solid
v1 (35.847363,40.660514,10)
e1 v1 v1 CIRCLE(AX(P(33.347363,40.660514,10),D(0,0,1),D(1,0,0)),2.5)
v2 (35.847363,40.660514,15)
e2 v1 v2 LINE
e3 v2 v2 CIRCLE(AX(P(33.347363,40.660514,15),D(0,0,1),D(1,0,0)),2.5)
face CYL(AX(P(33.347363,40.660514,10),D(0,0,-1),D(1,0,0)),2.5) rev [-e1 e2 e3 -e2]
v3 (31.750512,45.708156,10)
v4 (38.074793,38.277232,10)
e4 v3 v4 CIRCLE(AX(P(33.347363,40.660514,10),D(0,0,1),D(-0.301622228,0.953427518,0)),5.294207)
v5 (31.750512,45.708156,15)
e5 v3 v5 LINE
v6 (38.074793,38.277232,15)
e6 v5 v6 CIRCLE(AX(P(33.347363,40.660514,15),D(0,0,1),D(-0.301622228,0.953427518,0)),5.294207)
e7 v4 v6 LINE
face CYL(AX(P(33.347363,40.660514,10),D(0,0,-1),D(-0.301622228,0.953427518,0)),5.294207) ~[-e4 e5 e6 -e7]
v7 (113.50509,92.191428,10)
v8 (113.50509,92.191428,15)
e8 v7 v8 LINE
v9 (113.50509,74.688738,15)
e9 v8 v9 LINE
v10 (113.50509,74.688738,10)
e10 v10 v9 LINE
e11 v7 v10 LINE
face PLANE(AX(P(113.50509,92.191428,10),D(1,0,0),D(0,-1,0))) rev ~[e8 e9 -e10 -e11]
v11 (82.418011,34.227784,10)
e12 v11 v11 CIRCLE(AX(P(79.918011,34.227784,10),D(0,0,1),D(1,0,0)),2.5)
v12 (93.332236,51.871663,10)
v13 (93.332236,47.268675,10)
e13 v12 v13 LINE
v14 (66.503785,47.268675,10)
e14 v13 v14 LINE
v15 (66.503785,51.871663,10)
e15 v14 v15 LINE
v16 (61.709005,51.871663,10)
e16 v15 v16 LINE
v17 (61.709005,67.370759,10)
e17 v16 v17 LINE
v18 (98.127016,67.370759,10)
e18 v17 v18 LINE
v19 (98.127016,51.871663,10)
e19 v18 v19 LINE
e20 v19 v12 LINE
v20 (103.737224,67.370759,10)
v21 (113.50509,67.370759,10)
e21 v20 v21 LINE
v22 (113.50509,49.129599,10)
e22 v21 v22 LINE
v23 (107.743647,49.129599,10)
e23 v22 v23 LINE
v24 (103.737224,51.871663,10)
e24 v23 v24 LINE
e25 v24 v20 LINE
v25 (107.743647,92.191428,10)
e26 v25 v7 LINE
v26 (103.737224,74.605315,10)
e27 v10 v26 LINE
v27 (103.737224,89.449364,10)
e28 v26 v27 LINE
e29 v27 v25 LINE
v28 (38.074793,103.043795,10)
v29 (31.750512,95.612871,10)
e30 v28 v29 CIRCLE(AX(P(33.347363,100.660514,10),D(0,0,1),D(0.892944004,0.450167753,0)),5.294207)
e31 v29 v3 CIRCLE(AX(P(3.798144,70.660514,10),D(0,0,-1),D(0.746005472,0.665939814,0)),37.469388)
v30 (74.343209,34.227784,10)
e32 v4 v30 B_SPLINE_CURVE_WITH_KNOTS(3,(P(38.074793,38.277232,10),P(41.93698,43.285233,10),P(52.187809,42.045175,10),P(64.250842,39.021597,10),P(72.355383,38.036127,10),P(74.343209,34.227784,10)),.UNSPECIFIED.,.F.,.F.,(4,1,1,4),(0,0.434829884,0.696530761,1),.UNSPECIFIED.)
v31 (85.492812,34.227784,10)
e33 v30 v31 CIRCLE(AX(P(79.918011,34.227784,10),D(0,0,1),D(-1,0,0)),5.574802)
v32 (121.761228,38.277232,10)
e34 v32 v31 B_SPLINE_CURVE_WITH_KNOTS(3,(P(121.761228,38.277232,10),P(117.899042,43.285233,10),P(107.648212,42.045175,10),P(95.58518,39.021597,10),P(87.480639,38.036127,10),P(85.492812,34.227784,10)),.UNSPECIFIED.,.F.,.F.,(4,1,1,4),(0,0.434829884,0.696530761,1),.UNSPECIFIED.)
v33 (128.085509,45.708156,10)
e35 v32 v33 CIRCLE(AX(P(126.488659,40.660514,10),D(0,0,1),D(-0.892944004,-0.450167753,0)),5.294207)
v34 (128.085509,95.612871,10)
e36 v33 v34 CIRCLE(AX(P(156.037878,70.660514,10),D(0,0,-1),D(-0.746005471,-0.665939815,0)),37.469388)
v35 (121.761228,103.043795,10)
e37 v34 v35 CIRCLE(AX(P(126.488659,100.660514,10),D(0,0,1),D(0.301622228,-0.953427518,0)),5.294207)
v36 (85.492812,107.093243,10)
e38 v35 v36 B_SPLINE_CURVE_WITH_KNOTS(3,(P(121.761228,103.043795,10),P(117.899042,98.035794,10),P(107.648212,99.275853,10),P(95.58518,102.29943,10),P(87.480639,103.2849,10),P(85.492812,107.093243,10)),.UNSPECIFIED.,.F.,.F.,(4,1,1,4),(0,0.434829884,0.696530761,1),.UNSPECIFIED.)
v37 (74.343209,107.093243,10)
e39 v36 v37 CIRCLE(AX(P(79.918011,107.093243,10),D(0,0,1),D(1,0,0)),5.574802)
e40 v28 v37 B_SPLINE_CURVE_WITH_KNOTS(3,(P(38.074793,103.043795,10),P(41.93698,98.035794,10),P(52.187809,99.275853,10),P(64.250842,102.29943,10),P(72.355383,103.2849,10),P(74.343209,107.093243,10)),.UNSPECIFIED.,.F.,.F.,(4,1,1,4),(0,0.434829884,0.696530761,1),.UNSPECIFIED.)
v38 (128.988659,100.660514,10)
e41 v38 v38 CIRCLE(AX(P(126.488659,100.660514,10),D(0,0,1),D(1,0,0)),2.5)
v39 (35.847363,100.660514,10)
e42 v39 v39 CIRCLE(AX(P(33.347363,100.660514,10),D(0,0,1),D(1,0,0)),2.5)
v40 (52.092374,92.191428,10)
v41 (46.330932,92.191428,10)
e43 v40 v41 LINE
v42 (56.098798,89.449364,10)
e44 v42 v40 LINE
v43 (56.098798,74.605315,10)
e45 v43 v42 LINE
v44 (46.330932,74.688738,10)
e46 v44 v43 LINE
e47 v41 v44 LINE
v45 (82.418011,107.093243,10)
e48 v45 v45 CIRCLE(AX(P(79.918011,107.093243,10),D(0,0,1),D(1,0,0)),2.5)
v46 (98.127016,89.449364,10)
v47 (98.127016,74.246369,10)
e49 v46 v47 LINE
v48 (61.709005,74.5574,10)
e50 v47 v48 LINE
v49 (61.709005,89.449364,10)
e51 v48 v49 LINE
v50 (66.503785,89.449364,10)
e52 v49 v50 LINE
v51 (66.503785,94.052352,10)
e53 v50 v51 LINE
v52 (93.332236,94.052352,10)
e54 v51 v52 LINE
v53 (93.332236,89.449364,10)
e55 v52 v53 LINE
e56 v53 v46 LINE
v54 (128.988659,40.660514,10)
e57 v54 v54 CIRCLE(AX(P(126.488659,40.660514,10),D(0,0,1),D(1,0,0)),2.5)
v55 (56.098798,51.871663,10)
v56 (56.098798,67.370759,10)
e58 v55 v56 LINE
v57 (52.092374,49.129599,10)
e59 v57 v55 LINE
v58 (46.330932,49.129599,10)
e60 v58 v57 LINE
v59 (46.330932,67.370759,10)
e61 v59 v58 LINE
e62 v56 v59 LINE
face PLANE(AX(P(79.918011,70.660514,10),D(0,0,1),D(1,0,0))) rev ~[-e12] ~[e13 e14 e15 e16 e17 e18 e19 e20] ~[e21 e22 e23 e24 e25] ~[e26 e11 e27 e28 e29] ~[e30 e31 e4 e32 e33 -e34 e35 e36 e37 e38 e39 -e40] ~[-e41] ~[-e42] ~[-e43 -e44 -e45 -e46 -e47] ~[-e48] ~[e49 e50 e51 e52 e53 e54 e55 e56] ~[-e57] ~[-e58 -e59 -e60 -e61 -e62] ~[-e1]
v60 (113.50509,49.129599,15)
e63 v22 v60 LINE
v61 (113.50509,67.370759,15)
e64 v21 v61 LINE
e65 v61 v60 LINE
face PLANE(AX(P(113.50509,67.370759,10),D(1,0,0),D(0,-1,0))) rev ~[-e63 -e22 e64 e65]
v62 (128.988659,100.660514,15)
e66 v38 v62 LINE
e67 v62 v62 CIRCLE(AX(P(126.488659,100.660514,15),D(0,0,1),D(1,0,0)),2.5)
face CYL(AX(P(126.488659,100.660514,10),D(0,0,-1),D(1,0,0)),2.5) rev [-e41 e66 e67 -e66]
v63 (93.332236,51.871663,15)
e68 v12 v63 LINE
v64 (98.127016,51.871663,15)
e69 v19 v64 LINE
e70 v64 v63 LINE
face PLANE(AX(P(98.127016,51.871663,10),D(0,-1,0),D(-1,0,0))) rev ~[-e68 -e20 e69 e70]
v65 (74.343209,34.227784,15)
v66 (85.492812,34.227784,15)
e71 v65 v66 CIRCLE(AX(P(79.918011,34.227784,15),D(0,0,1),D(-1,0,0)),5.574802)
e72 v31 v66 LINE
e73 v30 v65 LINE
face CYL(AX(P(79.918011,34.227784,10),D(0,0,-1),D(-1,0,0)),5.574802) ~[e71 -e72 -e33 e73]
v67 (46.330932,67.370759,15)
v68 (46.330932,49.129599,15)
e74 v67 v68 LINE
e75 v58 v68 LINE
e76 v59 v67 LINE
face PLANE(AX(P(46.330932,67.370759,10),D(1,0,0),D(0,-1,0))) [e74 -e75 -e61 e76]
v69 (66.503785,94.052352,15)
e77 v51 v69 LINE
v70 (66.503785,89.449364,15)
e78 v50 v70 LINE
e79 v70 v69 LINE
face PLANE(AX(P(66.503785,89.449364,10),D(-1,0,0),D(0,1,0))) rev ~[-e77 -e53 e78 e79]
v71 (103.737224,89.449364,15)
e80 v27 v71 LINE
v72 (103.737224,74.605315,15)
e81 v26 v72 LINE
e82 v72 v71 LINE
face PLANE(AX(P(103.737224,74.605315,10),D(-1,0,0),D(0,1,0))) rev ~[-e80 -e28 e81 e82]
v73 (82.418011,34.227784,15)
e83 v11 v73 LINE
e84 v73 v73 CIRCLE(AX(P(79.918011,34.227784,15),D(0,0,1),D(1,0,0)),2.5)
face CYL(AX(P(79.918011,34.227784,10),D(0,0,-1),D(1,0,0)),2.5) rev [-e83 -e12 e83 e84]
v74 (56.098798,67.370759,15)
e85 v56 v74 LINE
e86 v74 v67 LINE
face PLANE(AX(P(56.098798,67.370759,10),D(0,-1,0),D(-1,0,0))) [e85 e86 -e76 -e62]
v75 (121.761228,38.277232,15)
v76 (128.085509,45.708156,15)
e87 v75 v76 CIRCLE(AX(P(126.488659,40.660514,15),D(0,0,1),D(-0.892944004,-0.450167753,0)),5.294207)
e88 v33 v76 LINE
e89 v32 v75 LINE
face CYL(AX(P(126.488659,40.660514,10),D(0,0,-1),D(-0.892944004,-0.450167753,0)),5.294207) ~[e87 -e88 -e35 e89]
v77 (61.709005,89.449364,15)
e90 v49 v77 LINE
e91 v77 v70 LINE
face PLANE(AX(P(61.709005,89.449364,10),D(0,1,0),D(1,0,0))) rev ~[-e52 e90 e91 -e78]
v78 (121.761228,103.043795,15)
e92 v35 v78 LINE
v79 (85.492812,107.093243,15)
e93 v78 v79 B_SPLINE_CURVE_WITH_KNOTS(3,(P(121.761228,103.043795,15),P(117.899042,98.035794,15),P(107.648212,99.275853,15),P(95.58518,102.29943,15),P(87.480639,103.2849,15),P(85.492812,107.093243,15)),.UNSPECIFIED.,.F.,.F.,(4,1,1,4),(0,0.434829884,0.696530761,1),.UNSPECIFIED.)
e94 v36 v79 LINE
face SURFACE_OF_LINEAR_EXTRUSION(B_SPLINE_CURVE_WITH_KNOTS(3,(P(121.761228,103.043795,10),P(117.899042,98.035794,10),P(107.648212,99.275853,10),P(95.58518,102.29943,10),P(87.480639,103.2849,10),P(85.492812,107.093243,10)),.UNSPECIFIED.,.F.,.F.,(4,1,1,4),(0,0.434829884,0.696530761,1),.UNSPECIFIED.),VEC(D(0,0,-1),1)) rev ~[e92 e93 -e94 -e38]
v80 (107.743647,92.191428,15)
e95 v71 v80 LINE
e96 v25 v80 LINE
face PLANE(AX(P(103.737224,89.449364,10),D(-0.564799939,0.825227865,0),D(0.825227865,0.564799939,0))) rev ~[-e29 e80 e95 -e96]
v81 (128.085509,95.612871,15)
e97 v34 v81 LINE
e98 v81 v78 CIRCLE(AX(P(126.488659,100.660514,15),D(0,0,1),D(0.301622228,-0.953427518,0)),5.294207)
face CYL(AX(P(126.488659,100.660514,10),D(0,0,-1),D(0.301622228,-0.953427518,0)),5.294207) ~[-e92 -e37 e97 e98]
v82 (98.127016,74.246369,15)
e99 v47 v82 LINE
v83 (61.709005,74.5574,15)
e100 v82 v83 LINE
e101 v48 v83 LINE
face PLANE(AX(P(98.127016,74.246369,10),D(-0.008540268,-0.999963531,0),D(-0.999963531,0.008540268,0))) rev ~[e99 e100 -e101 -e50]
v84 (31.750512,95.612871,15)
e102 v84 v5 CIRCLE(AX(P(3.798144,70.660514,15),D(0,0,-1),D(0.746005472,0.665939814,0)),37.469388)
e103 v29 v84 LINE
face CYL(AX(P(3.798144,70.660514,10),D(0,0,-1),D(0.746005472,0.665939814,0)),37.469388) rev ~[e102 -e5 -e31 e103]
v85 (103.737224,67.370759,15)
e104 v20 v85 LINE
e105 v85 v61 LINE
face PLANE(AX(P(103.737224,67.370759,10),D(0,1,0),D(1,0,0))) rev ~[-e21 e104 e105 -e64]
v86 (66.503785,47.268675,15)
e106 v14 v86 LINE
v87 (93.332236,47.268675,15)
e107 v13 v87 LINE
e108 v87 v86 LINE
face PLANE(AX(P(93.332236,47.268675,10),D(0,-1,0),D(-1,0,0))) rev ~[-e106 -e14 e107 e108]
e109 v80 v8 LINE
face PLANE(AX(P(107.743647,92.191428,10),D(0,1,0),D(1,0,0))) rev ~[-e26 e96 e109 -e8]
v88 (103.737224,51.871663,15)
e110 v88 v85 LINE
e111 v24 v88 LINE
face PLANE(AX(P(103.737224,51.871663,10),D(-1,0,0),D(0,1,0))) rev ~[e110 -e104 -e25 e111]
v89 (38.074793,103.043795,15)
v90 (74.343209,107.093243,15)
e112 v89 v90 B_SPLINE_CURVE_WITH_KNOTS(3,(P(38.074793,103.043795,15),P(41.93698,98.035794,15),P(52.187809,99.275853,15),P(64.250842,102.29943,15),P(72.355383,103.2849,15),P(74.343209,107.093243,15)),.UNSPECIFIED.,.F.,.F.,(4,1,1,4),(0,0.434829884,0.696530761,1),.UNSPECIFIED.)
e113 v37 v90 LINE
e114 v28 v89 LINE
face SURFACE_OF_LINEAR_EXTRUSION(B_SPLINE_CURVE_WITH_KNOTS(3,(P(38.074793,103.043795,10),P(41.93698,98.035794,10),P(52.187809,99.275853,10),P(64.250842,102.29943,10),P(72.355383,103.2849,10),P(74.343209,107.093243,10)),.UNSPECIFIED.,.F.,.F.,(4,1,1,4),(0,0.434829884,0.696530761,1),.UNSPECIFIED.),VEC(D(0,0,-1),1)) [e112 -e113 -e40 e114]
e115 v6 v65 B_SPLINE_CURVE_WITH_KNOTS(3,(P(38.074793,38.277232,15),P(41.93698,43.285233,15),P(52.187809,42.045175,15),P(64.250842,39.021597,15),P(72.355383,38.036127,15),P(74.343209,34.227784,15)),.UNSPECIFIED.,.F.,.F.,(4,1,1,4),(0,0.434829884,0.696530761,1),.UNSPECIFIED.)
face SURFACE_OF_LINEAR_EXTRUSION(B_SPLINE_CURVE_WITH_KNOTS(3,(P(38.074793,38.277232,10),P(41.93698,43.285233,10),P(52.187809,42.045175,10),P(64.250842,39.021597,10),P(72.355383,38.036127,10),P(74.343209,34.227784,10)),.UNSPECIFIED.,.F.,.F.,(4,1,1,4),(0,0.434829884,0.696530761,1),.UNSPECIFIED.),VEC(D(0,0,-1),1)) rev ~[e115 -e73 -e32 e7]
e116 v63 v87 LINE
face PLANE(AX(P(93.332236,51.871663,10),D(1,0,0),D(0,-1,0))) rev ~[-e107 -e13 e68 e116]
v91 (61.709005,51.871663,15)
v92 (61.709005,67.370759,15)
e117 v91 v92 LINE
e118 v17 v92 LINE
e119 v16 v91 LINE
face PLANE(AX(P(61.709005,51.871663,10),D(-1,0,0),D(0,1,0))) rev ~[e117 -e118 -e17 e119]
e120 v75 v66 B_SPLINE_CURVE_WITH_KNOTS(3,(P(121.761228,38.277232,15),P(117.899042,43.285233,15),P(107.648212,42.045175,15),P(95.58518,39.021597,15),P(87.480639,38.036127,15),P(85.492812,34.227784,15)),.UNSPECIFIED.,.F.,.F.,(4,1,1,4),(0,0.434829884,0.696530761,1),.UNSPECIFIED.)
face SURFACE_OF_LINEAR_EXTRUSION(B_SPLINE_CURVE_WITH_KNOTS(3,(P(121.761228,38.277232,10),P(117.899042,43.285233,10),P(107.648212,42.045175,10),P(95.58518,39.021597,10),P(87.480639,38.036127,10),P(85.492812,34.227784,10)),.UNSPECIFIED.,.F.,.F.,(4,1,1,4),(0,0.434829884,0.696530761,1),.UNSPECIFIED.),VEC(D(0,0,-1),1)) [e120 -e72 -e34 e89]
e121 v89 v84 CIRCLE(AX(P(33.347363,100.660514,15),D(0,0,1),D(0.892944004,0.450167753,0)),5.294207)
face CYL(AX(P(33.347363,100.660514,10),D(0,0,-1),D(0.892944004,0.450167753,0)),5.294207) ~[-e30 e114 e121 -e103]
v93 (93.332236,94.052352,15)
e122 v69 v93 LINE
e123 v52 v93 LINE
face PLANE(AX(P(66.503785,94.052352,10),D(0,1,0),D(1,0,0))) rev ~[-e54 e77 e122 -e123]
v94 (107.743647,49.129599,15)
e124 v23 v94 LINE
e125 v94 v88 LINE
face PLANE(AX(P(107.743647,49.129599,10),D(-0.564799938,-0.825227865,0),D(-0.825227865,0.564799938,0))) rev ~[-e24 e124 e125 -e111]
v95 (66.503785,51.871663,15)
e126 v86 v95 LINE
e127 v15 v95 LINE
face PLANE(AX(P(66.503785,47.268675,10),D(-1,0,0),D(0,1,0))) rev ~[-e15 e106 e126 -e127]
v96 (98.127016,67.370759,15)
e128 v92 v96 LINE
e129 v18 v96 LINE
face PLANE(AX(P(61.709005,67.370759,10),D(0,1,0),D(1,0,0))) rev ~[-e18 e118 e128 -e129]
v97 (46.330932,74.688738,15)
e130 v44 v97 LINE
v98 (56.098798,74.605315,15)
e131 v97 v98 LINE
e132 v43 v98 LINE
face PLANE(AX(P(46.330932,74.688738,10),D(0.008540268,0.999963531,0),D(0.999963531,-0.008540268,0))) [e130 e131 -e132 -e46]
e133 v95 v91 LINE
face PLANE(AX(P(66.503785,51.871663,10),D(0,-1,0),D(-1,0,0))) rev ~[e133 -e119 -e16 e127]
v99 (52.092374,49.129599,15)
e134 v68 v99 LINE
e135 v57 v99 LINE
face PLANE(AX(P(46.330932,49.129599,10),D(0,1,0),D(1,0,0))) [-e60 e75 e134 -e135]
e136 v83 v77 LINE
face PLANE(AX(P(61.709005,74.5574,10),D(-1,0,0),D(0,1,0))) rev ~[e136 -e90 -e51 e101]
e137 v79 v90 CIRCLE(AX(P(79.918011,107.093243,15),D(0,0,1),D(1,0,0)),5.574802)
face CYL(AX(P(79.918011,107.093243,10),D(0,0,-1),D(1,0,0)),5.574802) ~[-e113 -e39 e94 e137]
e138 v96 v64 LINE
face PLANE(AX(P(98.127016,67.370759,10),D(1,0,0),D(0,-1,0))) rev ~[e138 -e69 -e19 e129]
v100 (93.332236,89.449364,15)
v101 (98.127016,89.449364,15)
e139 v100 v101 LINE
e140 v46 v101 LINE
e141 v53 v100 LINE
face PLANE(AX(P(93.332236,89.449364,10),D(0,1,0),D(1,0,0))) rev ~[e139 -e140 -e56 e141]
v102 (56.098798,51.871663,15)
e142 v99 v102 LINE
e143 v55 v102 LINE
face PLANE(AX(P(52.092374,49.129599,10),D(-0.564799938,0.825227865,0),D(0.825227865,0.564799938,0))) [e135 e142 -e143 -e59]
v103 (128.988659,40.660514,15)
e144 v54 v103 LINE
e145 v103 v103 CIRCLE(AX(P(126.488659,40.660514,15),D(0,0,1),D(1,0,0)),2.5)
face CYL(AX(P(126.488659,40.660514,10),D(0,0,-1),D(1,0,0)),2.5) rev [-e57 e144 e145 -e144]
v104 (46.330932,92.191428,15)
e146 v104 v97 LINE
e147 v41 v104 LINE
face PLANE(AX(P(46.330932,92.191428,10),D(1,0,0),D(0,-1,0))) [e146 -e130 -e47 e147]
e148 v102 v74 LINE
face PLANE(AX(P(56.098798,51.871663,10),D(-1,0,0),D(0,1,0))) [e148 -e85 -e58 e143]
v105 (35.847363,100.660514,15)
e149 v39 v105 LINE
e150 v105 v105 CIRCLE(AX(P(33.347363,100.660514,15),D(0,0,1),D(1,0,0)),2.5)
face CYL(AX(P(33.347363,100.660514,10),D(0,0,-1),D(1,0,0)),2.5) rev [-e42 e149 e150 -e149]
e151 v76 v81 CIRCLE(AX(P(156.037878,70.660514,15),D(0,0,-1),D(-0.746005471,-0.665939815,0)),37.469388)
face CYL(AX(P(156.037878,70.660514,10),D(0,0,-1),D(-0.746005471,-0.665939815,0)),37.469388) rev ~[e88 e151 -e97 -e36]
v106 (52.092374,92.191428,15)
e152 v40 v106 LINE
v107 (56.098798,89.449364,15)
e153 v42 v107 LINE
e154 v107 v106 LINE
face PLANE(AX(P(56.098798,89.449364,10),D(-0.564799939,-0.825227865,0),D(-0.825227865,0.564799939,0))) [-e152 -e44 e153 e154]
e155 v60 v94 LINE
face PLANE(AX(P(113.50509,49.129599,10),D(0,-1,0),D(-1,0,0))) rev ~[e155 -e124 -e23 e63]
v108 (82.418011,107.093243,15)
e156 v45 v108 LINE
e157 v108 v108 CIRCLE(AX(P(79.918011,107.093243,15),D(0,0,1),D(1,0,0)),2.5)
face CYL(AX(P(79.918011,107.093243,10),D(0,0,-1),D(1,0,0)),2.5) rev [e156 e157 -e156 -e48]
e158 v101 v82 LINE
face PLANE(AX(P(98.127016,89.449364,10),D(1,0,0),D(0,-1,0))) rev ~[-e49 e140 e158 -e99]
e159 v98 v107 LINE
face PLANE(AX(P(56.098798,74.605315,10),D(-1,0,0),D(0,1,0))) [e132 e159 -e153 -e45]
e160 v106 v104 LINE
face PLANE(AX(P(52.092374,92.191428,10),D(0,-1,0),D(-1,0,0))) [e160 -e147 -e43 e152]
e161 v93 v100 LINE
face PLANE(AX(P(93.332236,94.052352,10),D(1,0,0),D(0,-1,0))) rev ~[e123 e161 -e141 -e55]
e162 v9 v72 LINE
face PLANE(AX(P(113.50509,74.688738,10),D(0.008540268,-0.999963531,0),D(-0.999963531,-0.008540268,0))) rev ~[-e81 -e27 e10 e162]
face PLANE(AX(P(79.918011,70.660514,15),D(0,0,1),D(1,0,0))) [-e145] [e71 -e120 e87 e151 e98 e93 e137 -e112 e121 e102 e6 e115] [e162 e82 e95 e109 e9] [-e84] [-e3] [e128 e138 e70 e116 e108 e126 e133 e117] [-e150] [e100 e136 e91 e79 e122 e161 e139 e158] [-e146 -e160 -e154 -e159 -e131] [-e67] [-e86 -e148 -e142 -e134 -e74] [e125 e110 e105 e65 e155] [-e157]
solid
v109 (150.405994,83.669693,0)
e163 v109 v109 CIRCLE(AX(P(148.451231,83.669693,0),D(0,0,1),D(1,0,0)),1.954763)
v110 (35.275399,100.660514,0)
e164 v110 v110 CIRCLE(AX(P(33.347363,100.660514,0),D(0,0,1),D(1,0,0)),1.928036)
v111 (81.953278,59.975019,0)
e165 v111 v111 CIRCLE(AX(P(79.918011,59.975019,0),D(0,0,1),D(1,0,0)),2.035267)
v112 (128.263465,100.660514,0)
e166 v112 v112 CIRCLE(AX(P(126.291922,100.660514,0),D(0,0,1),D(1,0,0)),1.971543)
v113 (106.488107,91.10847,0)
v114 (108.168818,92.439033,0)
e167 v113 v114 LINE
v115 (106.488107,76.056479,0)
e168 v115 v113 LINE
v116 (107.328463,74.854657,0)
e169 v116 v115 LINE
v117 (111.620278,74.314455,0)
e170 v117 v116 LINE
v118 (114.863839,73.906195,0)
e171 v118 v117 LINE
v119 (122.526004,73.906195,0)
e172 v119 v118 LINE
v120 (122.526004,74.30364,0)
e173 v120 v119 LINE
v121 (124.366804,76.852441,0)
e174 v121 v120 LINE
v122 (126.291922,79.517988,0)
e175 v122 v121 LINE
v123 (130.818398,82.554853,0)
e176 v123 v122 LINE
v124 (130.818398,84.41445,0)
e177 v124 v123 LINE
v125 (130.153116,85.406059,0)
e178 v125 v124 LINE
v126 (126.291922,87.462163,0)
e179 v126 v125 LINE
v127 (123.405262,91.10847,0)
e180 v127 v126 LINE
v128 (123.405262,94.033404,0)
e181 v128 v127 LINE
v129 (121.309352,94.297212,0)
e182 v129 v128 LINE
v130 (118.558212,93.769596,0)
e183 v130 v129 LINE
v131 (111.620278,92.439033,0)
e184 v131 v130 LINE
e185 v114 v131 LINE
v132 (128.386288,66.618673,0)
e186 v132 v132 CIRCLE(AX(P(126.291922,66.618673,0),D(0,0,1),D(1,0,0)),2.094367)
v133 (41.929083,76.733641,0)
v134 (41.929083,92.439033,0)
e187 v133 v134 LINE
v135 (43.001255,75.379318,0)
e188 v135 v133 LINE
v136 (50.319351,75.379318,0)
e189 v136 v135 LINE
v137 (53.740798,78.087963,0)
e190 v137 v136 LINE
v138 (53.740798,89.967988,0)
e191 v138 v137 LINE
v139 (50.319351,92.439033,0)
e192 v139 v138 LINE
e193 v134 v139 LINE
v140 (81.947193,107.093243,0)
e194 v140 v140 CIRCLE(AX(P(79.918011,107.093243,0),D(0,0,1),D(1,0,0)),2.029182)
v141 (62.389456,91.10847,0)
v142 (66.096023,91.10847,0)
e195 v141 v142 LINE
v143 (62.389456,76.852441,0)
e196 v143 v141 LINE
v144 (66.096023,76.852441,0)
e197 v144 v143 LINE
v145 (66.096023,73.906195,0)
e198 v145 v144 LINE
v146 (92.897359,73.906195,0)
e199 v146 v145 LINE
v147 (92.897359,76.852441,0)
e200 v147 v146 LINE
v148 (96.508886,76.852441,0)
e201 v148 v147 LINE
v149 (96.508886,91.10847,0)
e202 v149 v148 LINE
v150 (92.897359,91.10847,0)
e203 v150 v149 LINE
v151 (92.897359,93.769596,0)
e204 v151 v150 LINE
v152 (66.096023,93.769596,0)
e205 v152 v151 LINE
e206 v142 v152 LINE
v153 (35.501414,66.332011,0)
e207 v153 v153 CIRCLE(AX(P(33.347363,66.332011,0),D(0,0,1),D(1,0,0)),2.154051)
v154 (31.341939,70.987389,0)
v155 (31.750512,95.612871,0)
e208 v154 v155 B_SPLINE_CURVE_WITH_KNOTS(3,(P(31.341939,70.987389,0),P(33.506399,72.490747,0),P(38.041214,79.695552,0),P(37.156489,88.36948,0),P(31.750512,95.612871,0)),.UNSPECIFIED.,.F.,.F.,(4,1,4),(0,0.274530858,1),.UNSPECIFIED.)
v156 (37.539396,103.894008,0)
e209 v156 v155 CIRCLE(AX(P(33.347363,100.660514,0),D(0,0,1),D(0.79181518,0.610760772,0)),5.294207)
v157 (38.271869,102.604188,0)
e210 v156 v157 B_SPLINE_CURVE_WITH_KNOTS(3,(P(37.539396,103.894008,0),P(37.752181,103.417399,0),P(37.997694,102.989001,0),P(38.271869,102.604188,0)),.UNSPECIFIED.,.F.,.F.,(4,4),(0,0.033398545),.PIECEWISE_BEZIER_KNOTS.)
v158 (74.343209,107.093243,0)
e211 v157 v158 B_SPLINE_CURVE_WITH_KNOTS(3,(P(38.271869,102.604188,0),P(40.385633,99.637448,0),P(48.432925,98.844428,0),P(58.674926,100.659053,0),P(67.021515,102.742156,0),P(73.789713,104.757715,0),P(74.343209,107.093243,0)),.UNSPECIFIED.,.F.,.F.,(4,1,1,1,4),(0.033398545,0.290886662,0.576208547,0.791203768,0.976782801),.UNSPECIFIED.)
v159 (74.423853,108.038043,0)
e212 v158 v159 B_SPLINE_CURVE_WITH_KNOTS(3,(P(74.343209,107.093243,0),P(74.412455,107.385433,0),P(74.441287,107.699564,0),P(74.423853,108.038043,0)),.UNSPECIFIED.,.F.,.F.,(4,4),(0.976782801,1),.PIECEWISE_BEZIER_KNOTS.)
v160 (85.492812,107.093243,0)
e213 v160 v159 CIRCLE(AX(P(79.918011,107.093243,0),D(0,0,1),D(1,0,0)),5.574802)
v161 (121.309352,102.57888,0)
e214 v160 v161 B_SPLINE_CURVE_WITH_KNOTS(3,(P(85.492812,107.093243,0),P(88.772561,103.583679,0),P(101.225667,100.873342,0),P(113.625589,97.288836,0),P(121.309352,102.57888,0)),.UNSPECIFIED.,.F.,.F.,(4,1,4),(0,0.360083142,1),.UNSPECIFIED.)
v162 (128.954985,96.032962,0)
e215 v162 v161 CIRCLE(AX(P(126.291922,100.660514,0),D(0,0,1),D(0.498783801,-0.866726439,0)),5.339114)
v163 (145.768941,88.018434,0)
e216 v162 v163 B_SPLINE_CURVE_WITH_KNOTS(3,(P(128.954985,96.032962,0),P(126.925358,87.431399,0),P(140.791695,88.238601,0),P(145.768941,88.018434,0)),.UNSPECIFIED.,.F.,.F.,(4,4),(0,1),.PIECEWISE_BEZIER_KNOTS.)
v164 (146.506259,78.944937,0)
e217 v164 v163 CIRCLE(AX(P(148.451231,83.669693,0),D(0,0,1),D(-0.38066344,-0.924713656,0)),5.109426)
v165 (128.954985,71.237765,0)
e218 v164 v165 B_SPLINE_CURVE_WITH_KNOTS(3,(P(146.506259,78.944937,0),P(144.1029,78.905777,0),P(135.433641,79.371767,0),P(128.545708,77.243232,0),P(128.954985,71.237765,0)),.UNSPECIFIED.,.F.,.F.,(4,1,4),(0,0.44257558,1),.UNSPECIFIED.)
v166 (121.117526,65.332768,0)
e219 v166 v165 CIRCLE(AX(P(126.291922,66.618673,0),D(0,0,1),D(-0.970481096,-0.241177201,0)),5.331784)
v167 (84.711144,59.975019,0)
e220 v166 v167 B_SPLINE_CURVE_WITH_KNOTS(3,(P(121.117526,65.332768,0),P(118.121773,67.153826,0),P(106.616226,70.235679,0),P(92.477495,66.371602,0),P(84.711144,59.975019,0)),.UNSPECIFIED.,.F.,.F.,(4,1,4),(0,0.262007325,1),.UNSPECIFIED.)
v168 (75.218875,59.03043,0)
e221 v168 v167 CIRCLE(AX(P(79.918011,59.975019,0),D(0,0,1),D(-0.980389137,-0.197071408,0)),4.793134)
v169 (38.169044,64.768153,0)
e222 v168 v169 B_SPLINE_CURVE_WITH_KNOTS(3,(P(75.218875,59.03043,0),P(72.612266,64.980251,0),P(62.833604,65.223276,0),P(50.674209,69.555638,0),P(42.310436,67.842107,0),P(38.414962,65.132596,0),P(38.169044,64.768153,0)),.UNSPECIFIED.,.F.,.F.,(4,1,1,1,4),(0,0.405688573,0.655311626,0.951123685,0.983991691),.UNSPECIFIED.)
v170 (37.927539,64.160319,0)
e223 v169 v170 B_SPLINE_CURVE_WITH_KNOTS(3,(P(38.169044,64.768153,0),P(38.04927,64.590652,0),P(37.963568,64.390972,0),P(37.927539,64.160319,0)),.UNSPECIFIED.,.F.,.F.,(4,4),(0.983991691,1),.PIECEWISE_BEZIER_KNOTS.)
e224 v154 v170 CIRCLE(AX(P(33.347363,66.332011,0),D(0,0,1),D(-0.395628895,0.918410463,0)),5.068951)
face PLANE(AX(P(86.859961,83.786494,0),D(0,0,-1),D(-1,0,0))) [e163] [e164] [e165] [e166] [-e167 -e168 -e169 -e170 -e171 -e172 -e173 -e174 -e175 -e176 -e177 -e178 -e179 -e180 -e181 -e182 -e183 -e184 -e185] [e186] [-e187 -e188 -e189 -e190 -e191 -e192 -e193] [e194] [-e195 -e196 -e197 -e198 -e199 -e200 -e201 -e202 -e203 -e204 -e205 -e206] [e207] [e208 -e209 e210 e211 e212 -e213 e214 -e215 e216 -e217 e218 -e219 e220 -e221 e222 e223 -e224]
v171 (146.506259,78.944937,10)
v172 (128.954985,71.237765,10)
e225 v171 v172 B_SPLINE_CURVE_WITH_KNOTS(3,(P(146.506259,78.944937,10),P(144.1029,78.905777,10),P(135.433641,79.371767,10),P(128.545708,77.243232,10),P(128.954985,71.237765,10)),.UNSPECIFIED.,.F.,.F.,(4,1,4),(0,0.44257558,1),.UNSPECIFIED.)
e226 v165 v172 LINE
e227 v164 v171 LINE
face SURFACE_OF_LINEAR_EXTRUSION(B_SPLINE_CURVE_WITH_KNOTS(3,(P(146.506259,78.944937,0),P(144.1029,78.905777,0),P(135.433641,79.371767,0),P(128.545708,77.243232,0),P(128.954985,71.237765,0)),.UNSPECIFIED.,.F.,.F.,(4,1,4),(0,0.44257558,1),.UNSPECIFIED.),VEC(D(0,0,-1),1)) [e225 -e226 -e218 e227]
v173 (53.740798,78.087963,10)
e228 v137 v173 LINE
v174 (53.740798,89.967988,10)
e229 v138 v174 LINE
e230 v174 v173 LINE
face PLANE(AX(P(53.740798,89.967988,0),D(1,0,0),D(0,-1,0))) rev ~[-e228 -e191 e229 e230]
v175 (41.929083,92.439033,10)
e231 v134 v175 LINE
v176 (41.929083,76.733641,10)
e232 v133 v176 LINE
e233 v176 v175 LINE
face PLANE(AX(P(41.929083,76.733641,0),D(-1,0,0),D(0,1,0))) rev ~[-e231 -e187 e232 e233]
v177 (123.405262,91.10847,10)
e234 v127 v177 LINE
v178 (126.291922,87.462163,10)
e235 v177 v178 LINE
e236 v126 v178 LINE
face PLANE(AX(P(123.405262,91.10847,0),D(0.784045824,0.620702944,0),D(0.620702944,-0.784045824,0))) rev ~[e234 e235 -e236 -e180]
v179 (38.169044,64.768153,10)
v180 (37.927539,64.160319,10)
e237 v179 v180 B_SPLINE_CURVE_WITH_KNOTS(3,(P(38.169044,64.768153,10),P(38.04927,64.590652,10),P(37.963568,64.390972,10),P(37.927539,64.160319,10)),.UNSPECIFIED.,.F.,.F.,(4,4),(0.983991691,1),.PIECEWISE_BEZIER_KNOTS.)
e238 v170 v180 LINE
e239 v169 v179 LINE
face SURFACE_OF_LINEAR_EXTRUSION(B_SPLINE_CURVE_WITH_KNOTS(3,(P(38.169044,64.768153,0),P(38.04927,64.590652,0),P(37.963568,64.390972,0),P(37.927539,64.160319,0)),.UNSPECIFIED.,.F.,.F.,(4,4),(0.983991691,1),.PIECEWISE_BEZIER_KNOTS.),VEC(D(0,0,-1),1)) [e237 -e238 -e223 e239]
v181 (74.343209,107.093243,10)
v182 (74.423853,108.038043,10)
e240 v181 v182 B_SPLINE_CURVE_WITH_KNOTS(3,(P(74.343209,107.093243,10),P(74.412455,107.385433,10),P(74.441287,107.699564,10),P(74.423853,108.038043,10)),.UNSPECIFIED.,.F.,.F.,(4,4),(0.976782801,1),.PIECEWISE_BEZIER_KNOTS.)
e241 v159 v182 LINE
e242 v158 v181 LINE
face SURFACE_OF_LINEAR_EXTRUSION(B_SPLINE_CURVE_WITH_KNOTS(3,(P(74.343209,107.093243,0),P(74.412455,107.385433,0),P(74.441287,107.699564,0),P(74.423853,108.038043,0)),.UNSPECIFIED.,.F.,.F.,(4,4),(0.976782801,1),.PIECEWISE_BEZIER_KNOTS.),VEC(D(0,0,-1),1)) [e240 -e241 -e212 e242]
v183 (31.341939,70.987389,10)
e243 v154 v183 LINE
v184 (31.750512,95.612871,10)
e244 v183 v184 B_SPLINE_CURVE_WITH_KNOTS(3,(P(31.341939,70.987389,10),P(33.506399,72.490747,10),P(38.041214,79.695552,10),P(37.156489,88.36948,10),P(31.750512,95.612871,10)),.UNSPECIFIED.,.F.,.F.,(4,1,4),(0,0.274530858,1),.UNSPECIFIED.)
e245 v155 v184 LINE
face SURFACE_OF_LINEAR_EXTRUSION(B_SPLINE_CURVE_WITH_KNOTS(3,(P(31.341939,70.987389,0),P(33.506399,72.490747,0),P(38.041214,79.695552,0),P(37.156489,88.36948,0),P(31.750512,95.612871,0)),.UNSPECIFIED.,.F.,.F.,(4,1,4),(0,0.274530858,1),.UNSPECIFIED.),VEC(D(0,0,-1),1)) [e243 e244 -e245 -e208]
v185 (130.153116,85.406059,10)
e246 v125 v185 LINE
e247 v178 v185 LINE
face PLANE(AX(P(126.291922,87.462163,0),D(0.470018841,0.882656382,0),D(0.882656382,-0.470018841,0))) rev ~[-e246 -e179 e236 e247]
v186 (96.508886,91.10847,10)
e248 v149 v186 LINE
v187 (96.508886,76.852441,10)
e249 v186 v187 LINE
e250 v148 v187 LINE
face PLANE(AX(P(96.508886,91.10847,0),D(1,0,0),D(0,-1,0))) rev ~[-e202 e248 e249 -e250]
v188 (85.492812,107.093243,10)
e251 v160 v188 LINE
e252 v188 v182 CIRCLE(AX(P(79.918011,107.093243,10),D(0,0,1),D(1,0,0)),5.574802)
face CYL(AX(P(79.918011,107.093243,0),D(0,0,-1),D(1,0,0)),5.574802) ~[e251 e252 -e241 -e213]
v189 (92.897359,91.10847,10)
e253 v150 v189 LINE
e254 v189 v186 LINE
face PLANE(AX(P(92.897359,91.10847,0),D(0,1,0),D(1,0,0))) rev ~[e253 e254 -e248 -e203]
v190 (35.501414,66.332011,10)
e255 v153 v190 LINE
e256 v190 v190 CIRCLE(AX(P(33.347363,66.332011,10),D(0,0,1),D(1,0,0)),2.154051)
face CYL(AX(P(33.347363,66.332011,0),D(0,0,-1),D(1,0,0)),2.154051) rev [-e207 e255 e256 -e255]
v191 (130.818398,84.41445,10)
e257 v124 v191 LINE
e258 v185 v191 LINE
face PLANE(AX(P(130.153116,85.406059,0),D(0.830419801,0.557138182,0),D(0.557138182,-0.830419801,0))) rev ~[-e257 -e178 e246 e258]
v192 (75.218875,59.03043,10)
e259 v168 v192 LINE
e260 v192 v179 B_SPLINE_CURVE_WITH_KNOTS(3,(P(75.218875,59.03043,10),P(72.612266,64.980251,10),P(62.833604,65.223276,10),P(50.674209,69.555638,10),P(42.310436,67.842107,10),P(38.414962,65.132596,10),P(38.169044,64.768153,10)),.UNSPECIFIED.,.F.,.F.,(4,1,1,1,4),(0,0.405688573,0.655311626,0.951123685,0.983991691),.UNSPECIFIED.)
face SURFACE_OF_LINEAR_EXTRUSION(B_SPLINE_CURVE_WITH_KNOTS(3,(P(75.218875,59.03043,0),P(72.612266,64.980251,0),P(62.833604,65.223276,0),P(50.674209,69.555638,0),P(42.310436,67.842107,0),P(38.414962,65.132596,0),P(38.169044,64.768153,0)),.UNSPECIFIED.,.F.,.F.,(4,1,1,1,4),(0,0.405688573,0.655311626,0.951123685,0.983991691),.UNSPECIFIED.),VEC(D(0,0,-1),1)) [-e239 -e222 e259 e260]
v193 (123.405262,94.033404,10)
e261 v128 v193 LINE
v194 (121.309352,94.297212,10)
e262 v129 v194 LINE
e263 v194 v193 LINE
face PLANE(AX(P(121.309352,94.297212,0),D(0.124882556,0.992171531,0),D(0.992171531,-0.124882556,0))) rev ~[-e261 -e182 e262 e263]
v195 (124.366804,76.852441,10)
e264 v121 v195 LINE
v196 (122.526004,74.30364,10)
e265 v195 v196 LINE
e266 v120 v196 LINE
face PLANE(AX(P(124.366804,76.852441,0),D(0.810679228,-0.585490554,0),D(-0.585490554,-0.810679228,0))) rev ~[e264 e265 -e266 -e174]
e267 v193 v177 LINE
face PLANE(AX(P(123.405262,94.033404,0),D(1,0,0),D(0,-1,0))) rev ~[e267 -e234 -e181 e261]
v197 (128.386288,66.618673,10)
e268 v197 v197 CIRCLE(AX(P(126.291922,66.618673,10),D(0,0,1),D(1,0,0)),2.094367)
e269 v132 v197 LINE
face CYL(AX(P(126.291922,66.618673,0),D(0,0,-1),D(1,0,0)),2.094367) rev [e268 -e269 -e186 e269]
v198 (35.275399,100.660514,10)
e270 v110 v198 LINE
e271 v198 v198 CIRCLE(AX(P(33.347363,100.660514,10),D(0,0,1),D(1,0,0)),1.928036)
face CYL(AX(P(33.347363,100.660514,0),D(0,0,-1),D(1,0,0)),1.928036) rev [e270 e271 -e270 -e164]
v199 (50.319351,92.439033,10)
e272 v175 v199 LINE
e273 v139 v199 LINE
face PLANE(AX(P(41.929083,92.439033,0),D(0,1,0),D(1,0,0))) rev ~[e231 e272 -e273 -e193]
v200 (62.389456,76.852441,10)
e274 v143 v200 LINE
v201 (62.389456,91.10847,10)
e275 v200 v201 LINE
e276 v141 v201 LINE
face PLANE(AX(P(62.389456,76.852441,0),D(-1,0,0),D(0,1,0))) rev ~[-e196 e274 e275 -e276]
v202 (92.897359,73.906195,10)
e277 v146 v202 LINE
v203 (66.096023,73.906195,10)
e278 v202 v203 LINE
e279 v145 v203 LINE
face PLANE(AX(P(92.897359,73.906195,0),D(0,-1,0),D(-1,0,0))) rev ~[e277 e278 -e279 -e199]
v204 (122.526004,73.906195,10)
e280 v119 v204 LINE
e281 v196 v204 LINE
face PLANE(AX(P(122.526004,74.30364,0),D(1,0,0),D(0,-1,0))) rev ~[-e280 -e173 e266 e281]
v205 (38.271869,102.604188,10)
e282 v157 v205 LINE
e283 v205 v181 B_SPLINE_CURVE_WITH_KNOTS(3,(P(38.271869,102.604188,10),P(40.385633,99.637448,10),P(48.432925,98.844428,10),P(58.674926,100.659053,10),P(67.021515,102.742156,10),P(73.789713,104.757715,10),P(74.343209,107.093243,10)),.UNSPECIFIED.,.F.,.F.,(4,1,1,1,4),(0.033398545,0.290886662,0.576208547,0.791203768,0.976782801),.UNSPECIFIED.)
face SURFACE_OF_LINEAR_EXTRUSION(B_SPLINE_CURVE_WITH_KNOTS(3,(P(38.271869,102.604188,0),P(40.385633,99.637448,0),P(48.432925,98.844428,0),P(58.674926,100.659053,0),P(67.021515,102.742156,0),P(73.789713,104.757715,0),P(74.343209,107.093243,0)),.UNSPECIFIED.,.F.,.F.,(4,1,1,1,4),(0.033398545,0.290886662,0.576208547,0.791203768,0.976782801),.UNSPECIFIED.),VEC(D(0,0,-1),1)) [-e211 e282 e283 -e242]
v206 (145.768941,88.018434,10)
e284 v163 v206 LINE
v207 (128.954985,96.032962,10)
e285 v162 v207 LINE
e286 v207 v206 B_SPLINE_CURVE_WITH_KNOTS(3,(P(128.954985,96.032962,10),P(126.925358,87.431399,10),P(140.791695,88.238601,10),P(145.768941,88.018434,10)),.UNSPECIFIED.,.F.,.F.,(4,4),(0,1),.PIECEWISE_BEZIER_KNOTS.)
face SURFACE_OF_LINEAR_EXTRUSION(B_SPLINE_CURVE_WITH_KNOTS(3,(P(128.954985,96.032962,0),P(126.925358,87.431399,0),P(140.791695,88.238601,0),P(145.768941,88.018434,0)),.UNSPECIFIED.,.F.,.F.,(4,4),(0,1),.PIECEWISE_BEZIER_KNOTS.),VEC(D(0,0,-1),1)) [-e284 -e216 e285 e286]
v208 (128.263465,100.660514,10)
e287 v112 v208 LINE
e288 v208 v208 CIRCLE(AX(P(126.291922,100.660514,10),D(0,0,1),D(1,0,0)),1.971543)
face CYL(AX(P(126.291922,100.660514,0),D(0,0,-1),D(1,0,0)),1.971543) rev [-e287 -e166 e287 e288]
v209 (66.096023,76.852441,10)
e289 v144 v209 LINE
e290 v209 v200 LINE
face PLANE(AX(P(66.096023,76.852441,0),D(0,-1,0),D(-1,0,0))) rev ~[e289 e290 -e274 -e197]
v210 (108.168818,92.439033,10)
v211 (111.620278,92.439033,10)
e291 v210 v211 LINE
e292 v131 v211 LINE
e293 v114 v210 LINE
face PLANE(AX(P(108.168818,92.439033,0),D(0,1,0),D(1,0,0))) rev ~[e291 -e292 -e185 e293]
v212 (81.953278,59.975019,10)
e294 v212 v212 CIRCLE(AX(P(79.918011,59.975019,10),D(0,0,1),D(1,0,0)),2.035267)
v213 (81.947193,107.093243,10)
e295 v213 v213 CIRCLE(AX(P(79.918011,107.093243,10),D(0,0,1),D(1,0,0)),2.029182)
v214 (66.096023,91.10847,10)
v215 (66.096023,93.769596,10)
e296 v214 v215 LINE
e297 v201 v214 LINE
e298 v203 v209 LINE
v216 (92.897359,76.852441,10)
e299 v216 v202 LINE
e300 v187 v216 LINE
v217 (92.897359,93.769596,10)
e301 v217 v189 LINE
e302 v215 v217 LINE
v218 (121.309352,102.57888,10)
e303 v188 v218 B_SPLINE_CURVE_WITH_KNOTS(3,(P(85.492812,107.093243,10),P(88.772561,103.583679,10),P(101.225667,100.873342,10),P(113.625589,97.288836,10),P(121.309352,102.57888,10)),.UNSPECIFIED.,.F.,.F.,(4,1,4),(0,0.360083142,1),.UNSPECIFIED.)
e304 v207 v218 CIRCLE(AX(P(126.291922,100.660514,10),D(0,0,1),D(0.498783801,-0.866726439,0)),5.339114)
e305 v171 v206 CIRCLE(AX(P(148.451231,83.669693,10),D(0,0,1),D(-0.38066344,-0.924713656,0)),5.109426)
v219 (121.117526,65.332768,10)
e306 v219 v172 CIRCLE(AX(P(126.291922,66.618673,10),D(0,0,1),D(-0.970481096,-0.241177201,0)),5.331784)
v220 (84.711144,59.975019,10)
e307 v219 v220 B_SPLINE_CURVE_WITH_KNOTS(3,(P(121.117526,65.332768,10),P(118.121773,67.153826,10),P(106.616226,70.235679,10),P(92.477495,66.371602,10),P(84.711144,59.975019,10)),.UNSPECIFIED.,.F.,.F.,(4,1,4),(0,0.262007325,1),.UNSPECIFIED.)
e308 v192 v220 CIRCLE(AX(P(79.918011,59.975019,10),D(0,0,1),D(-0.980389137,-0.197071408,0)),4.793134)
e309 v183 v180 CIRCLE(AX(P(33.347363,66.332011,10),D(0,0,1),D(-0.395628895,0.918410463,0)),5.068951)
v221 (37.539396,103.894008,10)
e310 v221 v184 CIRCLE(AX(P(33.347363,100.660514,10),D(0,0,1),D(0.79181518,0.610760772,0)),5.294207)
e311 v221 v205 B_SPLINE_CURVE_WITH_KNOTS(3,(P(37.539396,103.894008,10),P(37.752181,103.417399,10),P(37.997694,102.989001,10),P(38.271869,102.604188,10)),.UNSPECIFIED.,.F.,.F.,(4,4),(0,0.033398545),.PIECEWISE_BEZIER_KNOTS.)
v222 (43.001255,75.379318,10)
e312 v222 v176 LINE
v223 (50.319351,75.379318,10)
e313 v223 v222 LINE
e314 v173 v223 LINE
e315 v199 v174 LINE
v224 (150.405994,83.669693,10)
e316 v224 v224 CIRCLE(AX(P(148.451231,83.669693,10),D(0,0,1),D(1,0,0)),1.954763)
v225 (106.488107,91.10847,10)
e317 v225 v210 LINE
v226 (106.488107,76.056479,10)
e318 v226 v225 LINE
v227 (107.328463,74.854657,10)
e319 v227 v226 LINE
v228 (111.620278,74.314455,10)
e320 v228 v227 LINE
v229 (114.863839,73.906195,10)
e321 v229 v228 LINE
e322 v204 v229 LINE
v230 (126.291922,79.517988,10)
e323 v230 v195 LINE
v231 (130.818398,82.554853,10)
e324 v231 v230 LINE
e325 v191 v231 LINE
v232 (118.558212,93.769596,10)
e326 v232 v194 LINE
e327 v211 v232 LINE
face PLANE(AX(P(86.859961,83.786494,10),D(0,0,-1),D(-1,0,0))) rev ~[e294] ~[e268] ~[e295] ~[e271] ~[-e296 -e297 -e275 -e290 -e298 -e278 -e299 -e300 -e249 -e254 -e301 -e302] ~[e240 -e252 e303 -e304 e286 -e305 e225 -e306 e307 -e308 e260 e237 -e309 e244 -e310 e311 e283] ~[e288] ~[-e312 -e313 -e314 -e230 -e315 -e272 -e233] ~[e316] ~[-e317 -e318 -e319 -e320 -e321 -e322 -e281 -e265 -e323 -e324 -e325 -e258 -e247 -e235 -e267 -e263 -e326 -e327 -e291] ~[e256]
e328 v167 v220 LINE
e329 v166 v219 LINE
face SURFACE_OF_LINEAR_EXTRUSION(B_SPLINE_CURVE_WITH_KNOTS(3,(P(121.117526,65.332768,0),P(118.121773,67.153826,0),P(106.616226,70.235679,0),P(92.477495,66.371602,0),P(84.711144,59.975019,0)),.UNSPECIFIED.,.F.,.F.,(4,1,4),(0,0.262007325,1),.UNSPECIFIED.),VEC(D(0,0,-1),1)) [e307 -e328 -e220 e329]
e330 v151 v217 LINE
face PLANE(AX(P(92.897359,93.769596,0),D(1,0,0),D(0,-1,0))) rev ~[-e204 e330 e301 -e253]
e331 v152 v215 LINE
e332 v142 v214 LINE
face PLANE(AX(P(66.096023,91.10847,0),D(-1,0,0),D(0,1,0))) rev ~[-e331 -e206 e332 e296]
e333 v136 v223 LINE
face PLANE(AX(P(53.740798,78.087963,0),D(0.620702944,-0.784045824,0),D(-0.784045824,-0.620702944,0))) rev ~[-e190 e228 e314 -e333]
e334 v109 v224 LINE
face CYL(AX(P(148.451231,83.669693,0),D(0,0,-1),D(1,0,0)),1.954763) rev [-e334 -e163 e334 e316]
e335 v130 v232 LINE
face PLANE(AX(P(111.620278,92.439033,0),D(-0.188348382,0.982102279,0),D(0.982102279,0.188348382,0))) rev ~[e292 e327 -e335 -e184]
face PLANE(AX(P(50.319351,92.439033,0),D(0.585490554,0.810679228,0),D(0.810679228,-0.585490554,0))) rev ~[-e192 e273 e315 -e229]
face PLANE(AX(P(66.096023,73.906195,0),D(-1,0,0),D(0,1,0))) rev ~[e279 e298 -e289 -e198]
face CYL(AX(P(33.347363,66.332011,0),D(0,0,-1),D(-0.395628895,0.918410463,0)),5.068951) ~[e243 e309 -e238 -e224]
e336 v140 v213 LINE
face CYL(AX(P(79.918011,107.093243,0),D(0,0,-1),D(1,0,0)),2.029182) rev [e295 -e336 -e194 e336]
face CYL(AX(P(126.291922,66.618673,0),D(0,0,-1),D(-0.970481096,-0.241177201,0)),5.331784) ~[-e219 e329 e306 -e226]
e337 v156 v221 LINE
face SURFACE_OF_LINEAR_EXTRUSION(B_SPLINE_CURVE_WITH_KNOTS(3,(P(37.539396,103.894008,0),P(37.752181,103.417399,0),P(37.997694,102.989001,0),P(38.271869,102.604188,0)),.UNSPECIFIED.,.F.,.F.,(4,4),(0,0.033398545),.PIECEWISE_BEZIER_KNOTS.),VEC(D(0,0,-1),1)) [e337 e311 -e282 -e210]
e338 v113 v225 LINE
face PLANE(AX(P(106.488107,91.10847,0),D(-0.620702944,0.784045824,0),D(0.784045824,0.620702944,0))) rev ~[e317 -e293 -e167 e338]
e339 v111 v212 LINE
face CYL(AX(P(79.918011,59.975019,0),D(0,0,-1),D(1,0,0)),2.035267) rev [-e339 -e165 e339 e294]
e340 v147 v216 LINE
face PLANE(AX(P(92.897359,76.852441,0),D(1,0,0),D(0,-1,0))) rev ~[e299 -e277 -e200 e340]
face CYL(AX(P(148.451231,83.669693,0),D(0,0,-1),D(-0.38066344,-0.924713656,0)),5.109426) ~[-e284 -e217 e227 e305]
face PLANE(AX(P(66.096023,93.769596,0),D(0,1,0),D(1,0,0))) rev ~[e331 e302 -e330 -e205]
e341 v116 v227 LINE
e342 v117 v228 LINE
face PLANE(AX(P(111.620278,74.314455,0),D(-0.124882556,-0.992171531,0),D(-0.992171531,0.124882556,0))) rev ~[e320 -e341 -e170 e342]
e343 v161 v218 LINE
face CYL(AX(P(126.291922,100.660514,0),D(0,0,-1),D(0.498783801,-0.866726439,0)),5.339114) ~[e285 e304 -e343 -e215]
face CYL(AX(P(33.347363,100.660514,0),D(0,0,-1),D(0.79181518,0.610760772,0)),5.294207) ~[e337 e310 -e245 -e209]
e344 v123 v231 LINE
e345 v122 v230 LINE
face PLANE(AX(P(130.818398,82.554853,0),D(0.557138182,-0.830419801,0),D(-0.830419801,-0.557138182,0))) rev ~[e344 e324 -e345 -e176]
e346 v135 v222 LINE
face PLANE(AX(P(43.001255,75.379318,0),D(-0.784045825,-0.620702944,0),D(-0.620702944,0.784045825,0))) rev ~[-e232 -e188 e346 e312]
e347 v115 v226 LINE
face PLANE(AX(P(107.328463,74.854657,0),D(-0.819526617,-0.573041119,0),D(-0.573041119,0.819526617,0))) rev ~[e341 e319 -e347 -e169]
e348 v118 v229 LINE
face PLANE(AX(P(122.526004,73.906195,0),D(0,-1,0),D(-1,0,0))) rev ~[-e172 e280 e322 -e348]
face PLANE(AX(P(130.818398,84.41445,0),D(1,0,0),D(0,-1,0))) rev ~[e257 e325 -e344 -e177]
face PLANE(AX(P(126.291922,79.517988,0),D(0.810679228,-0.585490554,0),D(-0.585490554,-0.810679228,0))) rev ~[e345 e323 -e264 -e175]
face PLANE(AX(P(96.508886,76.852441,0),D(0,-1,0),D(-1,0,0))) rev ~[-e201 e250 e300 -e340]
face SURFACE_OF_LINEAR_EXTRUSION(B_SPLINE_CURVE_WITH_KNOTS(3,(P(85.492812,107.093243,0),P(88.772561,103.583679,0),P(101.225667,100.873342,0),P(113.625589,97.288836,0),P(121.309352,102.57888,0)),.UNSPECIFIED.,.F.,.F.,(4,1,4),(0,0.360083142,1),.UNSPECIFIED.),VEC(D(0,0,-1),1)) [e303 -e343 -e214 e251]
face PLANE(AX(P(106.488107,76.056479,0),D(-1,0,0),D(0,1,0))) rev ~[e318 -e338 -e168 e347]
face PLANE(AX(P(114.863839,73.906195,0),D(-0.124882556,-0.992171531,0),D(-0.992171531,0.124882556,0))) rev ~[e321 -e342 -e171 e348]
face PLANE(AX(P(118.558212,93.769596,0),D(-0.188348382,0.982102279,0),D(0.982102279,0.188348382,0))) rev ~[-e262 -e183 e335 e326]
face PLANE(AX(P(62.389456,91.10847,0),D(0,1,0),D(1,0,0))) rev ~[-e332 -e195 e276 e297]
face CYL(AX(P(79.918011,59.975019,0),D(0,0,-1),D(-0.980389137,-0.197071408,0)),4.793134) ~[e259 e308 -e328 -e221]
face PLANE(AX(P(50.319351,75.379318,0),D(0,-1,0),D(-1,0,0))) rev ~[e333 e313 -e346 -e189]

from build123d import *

# Parameters (mm, degrees)
SKETCH1_R           = 4.308101429
SKETCH1_R_2         = 4.070534956
SKETCH1_R_3         = 4.188733122
SKETCH1_R_4         = 3.909525581
SKETCH1_R_5         = 3.856072912
SKETCH1_R_6         = 4.058364248
SKETCH1_R_7         = 3.943086
BOSS_EXTRUDE1_DEPTH = 20
SCALE1_SCALE        = 0.5
SKETCH3_R           = 2.5
BOSS_EXTRUDE2_DEPTH = 5


with BuildPart() as part:
    # Sketch1 → Boss-Extrude1 (new body)
    with BuildSketch(Plane.XY):
        with BuildLine():
            add(Edge.make_bspline(
                [(76.543737018, 205.208376265), (80.771266636, 199.274895566), (96.865850274, 197.688855126), (117.349852584, 201.318105517), (134.043030338, 205.484311396), (147.579425269, 209.515429562), (148.686418237, 214.186485586)],
                knots=[0.033398545, 0.033398545, 0.033398545, 0.033398545, 0.290886662, 0.576208547, 0.791203768, 0.976782801, 0.976782801, 0.976782801, 0.976782801], degree=3))
            add(Edge.make_bspline(
                [(75.078792443, 207.788015047), (75.504362003, 206.834798383), (75.995388063, 205.978002556), (76.543737018, 205.208376265)],
                knots=[0, 0, 0, 0, 0.033398545, 0.033398545, 0.033398545, 0.033398545], degree=3))
            ThreePointArc((75.078792443, 207.788015047), (58.016465577, 207.387518143), (63.501024585, 191.225741993))
            add(Edge.make_bspline(
                [(62.683878743, 141.974777384), (67.012798773, 144.981493657), (76.082428486, 159.391104607), (74.312978576, 176.738960763), (63.501024585, 191.225741993)],
                knots=[0, 0, 0, 0, 0.274530858, 1, 1, 1, 1], degree=3))
            ThreePointArc((62.683878743, 141.974777384), (59.39827219, 125.625640603), (75.855078431, 128.32063823))
            add(Edge.make_bspline(
                [(76.338088045, 129.536305853), (76.098540347, 129.181303146), (75.927135179, 128.781944867), (75.855078431, 128.32063823)],
                knots=[0.983991691, 0.983991691, 0.983991691, 0.983991691, 1, 1, 1, 1], degree=3))
            add(Edge.make_bspline(
                [(150.437749559, 118.060859695), (145.224531207, 129.960502912), (125.667208177, 130.446552796), (101.34841848, 139.111275477), (84.620872045, 135.684213171), (76.829923596, 130.265191805), (76.338088045, 129.536305853)],
                knots=[0, 0, 0, 0, 0.405688573, 0.655311626, 0.951123685, 0.983991691, 0.983991691, 0.983991691, 0.983991691], degree=3))
            ThreePointArc((150.437749559, 118.060859695), (160.785276573, 110.41088633), (169.422288635, 119.950038831))
            add(Edge.make_bspline(
                [(242.2350523, 130.665535521), (236.243546919, 134.307651451), (213.232451782, 140.471357972), (184.954990641, 132.743203556), (169.422288635, 119.950038831)],
                knots=[0, 0, 0, 0, 0.262007325, 1, 1, 1, 1], degree=3))
            ThreePointArc((242.2350523, 130.665535521), (259.000679516, 124.720543619), (257.909970741, 142.475529933))
            add(Edge.make_bspline(
                [(293.012518869, 157.889873478), (288.205800462, 157.811553926), (270.867281219, 158.743534183), (257.091416568, 154.486464669), (257.909970741, 142.475529933)],
                knots=[0, 0, 0, 0, 0.44257558, 1, 1, 1, 1], degree=3))
            ThreePointArc((293.012518869, 157.889873478), (307.087741631, 168.167048524), (291.537881464, 176.036868822))
            add(Edge.make_bspline(
                [(257.909970741, 192.06592491), (253.850716783, 174.862797409), (281.583389113, 176.477202162), (291.537881464, 176.036868822)],
                knots=[0, 0, 0, 0, 1, 1, 1, 1], degree=3))
            ThreePointArc((257.909970741, 192.06592491), (259.528564649, 209.432463461), (242.618703085, 205.157760035))
            add(Edge.make_bspline(
                [(170.98562499, 214.186485586), (177.545121184, 207.167357912), (202.451333932, 201.746684198), (227.251177201, 194.577672651), (242.618703085, 205.157760035)],
                knots=[0, 0, 0, 0, 0.360083142, 1, 1, 1, 1], degree=3))
            ThreePointArc((170.98562499, 214.186485586), (160.784257019, 225.295693706), (148.847706554, 216.076085442))
            add(Edge.make_bspline(
                [(148.686418237, 214.186485586), (148.824910586, 214.770866462), (148.882574653, 215.399127062), (148.847706554, 216.076085442)],
                knots=[0.976782801, 0.976782801, 0.976782801, 0.976782801, 1, 1, 1, 1], degree=3))
        make_face()
        with Locations((66.694725579, 132.66402241)):
            Circle(SKETCH1_R, mode=Mode.SUBTRACT)
        with Locations((159.836021613, 119.950038831)):
            Circle(SKETCH1_R_2, mode=Mode.SUBTRACT)
        Polygon((83.858166214, 184.878066453), (86.002510663, 184.878066453), (100.638701035, 184.878066453), (107.481595235, 179.935976198), (107.481595235, 156.175926893), (100.638701035, 150.758635651), (86.002510663, 150.758635651), (83.858166214, 153.467281272), (83.858166214, 157.72182523), (83.858166214, 179.935976198), (83.858166214, 182.407021325), align=None, mode=Mode.SUBTRACT)
        Polygon((132.192046512, 182.216940931), (132.192046512, 187.539191975), (185.794717744, 187.539191975), (185.794717744, 182.216940931), (193.017772733, 182.216940931), (193.017772733, 153.704881765), (185.794717744, 153.704881765), (185.794717744, 147.812389537), (132.192046512, 147.812389537), (132.192046512, 153.704881765), (124.778911129, 153.704881765), (124.778911129, 182.216940931), align=None, mode=Mode.SUBTRACT)
        with Locations((252.583843732, 133.237345071)):
            Circle(SKETCH1_R_3, mode=Mode.SUBTRACT)
        with Locations((296.902462307, 167.339385675)):
            Circle(SKETCH1_R_4, mode=Mode.SUBTRACT)
        with Locations((66.694725579, 201.321027186)):
            Circle(SKETCH1_R_5, mode=Mode.SUBTRACT)
        with Locations((159.836021613, 214.186485586)):
            Circle(SKETCH1_R_6, mode=Mode.SUBTRACT)
        Polygon((214.656925005, 149.709313702), (212.976214149, 152.112958462), (212.976214149, 182.216940931), (216.337635861, 184.878066453), (223.240555449, 184.878066453), (237.116424243, 187.539191975), (242.618703085, 188.594423534), (246.81052436, 188.066807755), (246.81052436, 182.216940931), (252.583843732, 174.924326987), (260.306232365, 170.812117265), (261.636795126, 168.828900714), (261.636795126, 165.109705431), (252.583843732, 159.035976368), (248.733608741, 153.704881765), (245.052007945, 148.607280663), (245.052007945, 147.812389537), (239.867563664, 147.812389537), (229.727677965, 147.812389537), (223.240555449, 148.628910085), align=None, mode=Mode.SUBTRACT)
        with Locations((252.583843732, 201.321027186)):
            Circle(SKETCH1_R_7, mode=Mode.SUBTRACT)
    extrude(amount=BOSS_EXTRUDE1_DEPTH)


with BuildPart() as part_1:
    # Scale1: scaled about (0, 0, 0)
    add(part.part.scale(SCALE1_SCALE))


with BuildPart() as body_2:
    # Sketch3 → Boss-Extrude2 (new body)
    with BuildSketch(Plane.XY.offset(10)):
        with BuildLine():
            add(Edge.make_bspline(
                [(121.761228468, 38.277232342), (117.899041819, 43.28523295), (107.648212445, 42.04517464), (95.58517999, 39.021597361), (87.480638881, 38.036126746), (85.492812495, 34.227784393)],
                knots=[0, 0, 0, 0, 0.434829884, 0.696530761, 1, 1, 1, 1], degree=3))
            ThreePointArc((121.761228468, 38.277232342), (130.520381765, 37.229211009), (128.085509321, 45.70815619))
            ThreePointArc((128.085509321, 45.70815619), (118.56848974, 70.660513593), (128.085509321, 95.612870996))
            ThreePointArc((128.085509321, 95.612870996), (130.520381765, 104.091816177), (121.761228468, 103.043794844))
            add(Edge.make_bspline(
                [(121.761228468, 103.043794844), (117.899041819, 98.035794237), (107.648212445, 99.275852547), (95.58517999, 102.299429825), (87.480638881, 103.284900441), (85.492812495, 107.093242793)],
                knots=[0, 0, 0, 0, 0.434829884, 0.696530761, 1, 1, 1, 1], degree=3))
            ThreePointArc((85.492812495, 107.093242793), (79.918010807, 112.668044481), (74.343209119, 107.093242793))
            add(Edge.make_bspline(
                [(38.074793146, 103.043794844), (41.936979794, 98.035794237), (52.187809168, 99.275852547), (64.250841624, 102.299429825), (72.355382732, 103.284900441), (74.343209119, 107.093242793)],
                knots=[0, 0, 0, 0, 0.434829884, 0.696530761, 1, 1, 1, 1], degree=3))
            ThreePointArc((38.074793146, 103.043794844), (29.315639848, 104.091816177), (31.750512293, 95.612870996))
            ThreePointArc((31.750512293, 95.612870996), (41.267531873, 70.660513593), (31.750512293, 45.70815619))
            ThreePointArc((31.750512293, 45.70815619), (29.315639848, 37.229211009), (38.074793146, 38.277232342))
            add(Edge.make_bspline(
                [(38.074793146, 38.277232342), (41.936979794, 43.28523295), (52.187809168, 42.04517464), (64.250841624, 39.021597361), (72.355382732, 38.036126746), (74.343209119, 34.227784393)],
                knots=[0, 0, 0, 0, 0.434829884, 0.696530761, 1, 1, 1, 1], degree=3))
            ThreePointArc((74.343209119, 34.227784393), (79.918010807, 28.652982705), (85.492812495, 34.227784393))
        make_face()
        with Locations((33.347362789, 40.660513593)):
            Circle(SKETCH3_R, mode=Mode.SUBTRACT)
        Polygon((56.098797877, 67.370758764), (56.098797877, 51.871663354), (52.09237434, 49.129599177), (46.330931894, 49.129599177), (46.330931894, 67.370758764), align=None, mode=Mode.SUBTRACT)
        with Locations((79.918010807, 34.227784393)):
            Circle(SKETCH3_R, mode=Mode.SUBTRACT)
        with Locations((126.488658824, 40.660513593)):
            Circle(SKETCH3_R, mode=Mode.SUBTRACT)
        Polygon((93.332236436, 47.268674701), (66.503785178, 47.268674701), (66.503785178, 51.871663354), (61.70900533, 51.871663354), (61.70900533, 67.370758764), (98.127016283, 67.370758764), (98.127016283, 51.871663354), (93.332236436, 51.871663354), align=None, mode=Mode.SUBTRACT)
        Polygon((103.737223736, 51.871663354), (103.737223736, 67.370758764), (113.505089719, 67.370758764), (113.505089719, 49.129599177), (107.743647273, 49.129599177), align=None, mode=Mode.SUBTRACT)
        Polygon((56.098797877, 89.449363832), (56.098797877, 74.605314673), (46.330931894, 74.688737907), (46.330931894, 92.19142801), (52.09237434, 92.19142801), align=None, mode=Mode.SUBTRACT)
        with Locations((33.347362789, 100.660513593)):
            Circle(SKETCH3_R, mode=Mode.SUBTRACT)
        Polygon((66.503785178, 94.052352486), (93.332236436, 94.052352486), (93.332236436, 89.449363832), (98.127016283, 89.449363832), (98.127016283, 74.246369341), (61.70900533, 74.557400252), (61.70900533, 89.449363832), (66.503785178, 89.449363832), align=None, mode=Mode.SUBTRACT)
        Polygon((113.505089719, 92.19142801), (113.505089719, 74.688737907), (103.737223736, 74.605314673), (103.737223736, 89.449363832), (107.743647273, 92.19142801), align=None, mode=Mode.SUBTRACT)
        with Locations((79.918010807, 107.093242793)):
            Circle(SKETCH3_R, mode=Mode.SUBTRACT)
        with Locations((126.488658824, 100.660513593)):
            Circle(SKETCH3_R, mode=Mode.SUBTRACT)
    extrude(amount=BOSS_EXTRUDE2_DEPTH)


solid = Compound([part_1.part, body_2.part])
